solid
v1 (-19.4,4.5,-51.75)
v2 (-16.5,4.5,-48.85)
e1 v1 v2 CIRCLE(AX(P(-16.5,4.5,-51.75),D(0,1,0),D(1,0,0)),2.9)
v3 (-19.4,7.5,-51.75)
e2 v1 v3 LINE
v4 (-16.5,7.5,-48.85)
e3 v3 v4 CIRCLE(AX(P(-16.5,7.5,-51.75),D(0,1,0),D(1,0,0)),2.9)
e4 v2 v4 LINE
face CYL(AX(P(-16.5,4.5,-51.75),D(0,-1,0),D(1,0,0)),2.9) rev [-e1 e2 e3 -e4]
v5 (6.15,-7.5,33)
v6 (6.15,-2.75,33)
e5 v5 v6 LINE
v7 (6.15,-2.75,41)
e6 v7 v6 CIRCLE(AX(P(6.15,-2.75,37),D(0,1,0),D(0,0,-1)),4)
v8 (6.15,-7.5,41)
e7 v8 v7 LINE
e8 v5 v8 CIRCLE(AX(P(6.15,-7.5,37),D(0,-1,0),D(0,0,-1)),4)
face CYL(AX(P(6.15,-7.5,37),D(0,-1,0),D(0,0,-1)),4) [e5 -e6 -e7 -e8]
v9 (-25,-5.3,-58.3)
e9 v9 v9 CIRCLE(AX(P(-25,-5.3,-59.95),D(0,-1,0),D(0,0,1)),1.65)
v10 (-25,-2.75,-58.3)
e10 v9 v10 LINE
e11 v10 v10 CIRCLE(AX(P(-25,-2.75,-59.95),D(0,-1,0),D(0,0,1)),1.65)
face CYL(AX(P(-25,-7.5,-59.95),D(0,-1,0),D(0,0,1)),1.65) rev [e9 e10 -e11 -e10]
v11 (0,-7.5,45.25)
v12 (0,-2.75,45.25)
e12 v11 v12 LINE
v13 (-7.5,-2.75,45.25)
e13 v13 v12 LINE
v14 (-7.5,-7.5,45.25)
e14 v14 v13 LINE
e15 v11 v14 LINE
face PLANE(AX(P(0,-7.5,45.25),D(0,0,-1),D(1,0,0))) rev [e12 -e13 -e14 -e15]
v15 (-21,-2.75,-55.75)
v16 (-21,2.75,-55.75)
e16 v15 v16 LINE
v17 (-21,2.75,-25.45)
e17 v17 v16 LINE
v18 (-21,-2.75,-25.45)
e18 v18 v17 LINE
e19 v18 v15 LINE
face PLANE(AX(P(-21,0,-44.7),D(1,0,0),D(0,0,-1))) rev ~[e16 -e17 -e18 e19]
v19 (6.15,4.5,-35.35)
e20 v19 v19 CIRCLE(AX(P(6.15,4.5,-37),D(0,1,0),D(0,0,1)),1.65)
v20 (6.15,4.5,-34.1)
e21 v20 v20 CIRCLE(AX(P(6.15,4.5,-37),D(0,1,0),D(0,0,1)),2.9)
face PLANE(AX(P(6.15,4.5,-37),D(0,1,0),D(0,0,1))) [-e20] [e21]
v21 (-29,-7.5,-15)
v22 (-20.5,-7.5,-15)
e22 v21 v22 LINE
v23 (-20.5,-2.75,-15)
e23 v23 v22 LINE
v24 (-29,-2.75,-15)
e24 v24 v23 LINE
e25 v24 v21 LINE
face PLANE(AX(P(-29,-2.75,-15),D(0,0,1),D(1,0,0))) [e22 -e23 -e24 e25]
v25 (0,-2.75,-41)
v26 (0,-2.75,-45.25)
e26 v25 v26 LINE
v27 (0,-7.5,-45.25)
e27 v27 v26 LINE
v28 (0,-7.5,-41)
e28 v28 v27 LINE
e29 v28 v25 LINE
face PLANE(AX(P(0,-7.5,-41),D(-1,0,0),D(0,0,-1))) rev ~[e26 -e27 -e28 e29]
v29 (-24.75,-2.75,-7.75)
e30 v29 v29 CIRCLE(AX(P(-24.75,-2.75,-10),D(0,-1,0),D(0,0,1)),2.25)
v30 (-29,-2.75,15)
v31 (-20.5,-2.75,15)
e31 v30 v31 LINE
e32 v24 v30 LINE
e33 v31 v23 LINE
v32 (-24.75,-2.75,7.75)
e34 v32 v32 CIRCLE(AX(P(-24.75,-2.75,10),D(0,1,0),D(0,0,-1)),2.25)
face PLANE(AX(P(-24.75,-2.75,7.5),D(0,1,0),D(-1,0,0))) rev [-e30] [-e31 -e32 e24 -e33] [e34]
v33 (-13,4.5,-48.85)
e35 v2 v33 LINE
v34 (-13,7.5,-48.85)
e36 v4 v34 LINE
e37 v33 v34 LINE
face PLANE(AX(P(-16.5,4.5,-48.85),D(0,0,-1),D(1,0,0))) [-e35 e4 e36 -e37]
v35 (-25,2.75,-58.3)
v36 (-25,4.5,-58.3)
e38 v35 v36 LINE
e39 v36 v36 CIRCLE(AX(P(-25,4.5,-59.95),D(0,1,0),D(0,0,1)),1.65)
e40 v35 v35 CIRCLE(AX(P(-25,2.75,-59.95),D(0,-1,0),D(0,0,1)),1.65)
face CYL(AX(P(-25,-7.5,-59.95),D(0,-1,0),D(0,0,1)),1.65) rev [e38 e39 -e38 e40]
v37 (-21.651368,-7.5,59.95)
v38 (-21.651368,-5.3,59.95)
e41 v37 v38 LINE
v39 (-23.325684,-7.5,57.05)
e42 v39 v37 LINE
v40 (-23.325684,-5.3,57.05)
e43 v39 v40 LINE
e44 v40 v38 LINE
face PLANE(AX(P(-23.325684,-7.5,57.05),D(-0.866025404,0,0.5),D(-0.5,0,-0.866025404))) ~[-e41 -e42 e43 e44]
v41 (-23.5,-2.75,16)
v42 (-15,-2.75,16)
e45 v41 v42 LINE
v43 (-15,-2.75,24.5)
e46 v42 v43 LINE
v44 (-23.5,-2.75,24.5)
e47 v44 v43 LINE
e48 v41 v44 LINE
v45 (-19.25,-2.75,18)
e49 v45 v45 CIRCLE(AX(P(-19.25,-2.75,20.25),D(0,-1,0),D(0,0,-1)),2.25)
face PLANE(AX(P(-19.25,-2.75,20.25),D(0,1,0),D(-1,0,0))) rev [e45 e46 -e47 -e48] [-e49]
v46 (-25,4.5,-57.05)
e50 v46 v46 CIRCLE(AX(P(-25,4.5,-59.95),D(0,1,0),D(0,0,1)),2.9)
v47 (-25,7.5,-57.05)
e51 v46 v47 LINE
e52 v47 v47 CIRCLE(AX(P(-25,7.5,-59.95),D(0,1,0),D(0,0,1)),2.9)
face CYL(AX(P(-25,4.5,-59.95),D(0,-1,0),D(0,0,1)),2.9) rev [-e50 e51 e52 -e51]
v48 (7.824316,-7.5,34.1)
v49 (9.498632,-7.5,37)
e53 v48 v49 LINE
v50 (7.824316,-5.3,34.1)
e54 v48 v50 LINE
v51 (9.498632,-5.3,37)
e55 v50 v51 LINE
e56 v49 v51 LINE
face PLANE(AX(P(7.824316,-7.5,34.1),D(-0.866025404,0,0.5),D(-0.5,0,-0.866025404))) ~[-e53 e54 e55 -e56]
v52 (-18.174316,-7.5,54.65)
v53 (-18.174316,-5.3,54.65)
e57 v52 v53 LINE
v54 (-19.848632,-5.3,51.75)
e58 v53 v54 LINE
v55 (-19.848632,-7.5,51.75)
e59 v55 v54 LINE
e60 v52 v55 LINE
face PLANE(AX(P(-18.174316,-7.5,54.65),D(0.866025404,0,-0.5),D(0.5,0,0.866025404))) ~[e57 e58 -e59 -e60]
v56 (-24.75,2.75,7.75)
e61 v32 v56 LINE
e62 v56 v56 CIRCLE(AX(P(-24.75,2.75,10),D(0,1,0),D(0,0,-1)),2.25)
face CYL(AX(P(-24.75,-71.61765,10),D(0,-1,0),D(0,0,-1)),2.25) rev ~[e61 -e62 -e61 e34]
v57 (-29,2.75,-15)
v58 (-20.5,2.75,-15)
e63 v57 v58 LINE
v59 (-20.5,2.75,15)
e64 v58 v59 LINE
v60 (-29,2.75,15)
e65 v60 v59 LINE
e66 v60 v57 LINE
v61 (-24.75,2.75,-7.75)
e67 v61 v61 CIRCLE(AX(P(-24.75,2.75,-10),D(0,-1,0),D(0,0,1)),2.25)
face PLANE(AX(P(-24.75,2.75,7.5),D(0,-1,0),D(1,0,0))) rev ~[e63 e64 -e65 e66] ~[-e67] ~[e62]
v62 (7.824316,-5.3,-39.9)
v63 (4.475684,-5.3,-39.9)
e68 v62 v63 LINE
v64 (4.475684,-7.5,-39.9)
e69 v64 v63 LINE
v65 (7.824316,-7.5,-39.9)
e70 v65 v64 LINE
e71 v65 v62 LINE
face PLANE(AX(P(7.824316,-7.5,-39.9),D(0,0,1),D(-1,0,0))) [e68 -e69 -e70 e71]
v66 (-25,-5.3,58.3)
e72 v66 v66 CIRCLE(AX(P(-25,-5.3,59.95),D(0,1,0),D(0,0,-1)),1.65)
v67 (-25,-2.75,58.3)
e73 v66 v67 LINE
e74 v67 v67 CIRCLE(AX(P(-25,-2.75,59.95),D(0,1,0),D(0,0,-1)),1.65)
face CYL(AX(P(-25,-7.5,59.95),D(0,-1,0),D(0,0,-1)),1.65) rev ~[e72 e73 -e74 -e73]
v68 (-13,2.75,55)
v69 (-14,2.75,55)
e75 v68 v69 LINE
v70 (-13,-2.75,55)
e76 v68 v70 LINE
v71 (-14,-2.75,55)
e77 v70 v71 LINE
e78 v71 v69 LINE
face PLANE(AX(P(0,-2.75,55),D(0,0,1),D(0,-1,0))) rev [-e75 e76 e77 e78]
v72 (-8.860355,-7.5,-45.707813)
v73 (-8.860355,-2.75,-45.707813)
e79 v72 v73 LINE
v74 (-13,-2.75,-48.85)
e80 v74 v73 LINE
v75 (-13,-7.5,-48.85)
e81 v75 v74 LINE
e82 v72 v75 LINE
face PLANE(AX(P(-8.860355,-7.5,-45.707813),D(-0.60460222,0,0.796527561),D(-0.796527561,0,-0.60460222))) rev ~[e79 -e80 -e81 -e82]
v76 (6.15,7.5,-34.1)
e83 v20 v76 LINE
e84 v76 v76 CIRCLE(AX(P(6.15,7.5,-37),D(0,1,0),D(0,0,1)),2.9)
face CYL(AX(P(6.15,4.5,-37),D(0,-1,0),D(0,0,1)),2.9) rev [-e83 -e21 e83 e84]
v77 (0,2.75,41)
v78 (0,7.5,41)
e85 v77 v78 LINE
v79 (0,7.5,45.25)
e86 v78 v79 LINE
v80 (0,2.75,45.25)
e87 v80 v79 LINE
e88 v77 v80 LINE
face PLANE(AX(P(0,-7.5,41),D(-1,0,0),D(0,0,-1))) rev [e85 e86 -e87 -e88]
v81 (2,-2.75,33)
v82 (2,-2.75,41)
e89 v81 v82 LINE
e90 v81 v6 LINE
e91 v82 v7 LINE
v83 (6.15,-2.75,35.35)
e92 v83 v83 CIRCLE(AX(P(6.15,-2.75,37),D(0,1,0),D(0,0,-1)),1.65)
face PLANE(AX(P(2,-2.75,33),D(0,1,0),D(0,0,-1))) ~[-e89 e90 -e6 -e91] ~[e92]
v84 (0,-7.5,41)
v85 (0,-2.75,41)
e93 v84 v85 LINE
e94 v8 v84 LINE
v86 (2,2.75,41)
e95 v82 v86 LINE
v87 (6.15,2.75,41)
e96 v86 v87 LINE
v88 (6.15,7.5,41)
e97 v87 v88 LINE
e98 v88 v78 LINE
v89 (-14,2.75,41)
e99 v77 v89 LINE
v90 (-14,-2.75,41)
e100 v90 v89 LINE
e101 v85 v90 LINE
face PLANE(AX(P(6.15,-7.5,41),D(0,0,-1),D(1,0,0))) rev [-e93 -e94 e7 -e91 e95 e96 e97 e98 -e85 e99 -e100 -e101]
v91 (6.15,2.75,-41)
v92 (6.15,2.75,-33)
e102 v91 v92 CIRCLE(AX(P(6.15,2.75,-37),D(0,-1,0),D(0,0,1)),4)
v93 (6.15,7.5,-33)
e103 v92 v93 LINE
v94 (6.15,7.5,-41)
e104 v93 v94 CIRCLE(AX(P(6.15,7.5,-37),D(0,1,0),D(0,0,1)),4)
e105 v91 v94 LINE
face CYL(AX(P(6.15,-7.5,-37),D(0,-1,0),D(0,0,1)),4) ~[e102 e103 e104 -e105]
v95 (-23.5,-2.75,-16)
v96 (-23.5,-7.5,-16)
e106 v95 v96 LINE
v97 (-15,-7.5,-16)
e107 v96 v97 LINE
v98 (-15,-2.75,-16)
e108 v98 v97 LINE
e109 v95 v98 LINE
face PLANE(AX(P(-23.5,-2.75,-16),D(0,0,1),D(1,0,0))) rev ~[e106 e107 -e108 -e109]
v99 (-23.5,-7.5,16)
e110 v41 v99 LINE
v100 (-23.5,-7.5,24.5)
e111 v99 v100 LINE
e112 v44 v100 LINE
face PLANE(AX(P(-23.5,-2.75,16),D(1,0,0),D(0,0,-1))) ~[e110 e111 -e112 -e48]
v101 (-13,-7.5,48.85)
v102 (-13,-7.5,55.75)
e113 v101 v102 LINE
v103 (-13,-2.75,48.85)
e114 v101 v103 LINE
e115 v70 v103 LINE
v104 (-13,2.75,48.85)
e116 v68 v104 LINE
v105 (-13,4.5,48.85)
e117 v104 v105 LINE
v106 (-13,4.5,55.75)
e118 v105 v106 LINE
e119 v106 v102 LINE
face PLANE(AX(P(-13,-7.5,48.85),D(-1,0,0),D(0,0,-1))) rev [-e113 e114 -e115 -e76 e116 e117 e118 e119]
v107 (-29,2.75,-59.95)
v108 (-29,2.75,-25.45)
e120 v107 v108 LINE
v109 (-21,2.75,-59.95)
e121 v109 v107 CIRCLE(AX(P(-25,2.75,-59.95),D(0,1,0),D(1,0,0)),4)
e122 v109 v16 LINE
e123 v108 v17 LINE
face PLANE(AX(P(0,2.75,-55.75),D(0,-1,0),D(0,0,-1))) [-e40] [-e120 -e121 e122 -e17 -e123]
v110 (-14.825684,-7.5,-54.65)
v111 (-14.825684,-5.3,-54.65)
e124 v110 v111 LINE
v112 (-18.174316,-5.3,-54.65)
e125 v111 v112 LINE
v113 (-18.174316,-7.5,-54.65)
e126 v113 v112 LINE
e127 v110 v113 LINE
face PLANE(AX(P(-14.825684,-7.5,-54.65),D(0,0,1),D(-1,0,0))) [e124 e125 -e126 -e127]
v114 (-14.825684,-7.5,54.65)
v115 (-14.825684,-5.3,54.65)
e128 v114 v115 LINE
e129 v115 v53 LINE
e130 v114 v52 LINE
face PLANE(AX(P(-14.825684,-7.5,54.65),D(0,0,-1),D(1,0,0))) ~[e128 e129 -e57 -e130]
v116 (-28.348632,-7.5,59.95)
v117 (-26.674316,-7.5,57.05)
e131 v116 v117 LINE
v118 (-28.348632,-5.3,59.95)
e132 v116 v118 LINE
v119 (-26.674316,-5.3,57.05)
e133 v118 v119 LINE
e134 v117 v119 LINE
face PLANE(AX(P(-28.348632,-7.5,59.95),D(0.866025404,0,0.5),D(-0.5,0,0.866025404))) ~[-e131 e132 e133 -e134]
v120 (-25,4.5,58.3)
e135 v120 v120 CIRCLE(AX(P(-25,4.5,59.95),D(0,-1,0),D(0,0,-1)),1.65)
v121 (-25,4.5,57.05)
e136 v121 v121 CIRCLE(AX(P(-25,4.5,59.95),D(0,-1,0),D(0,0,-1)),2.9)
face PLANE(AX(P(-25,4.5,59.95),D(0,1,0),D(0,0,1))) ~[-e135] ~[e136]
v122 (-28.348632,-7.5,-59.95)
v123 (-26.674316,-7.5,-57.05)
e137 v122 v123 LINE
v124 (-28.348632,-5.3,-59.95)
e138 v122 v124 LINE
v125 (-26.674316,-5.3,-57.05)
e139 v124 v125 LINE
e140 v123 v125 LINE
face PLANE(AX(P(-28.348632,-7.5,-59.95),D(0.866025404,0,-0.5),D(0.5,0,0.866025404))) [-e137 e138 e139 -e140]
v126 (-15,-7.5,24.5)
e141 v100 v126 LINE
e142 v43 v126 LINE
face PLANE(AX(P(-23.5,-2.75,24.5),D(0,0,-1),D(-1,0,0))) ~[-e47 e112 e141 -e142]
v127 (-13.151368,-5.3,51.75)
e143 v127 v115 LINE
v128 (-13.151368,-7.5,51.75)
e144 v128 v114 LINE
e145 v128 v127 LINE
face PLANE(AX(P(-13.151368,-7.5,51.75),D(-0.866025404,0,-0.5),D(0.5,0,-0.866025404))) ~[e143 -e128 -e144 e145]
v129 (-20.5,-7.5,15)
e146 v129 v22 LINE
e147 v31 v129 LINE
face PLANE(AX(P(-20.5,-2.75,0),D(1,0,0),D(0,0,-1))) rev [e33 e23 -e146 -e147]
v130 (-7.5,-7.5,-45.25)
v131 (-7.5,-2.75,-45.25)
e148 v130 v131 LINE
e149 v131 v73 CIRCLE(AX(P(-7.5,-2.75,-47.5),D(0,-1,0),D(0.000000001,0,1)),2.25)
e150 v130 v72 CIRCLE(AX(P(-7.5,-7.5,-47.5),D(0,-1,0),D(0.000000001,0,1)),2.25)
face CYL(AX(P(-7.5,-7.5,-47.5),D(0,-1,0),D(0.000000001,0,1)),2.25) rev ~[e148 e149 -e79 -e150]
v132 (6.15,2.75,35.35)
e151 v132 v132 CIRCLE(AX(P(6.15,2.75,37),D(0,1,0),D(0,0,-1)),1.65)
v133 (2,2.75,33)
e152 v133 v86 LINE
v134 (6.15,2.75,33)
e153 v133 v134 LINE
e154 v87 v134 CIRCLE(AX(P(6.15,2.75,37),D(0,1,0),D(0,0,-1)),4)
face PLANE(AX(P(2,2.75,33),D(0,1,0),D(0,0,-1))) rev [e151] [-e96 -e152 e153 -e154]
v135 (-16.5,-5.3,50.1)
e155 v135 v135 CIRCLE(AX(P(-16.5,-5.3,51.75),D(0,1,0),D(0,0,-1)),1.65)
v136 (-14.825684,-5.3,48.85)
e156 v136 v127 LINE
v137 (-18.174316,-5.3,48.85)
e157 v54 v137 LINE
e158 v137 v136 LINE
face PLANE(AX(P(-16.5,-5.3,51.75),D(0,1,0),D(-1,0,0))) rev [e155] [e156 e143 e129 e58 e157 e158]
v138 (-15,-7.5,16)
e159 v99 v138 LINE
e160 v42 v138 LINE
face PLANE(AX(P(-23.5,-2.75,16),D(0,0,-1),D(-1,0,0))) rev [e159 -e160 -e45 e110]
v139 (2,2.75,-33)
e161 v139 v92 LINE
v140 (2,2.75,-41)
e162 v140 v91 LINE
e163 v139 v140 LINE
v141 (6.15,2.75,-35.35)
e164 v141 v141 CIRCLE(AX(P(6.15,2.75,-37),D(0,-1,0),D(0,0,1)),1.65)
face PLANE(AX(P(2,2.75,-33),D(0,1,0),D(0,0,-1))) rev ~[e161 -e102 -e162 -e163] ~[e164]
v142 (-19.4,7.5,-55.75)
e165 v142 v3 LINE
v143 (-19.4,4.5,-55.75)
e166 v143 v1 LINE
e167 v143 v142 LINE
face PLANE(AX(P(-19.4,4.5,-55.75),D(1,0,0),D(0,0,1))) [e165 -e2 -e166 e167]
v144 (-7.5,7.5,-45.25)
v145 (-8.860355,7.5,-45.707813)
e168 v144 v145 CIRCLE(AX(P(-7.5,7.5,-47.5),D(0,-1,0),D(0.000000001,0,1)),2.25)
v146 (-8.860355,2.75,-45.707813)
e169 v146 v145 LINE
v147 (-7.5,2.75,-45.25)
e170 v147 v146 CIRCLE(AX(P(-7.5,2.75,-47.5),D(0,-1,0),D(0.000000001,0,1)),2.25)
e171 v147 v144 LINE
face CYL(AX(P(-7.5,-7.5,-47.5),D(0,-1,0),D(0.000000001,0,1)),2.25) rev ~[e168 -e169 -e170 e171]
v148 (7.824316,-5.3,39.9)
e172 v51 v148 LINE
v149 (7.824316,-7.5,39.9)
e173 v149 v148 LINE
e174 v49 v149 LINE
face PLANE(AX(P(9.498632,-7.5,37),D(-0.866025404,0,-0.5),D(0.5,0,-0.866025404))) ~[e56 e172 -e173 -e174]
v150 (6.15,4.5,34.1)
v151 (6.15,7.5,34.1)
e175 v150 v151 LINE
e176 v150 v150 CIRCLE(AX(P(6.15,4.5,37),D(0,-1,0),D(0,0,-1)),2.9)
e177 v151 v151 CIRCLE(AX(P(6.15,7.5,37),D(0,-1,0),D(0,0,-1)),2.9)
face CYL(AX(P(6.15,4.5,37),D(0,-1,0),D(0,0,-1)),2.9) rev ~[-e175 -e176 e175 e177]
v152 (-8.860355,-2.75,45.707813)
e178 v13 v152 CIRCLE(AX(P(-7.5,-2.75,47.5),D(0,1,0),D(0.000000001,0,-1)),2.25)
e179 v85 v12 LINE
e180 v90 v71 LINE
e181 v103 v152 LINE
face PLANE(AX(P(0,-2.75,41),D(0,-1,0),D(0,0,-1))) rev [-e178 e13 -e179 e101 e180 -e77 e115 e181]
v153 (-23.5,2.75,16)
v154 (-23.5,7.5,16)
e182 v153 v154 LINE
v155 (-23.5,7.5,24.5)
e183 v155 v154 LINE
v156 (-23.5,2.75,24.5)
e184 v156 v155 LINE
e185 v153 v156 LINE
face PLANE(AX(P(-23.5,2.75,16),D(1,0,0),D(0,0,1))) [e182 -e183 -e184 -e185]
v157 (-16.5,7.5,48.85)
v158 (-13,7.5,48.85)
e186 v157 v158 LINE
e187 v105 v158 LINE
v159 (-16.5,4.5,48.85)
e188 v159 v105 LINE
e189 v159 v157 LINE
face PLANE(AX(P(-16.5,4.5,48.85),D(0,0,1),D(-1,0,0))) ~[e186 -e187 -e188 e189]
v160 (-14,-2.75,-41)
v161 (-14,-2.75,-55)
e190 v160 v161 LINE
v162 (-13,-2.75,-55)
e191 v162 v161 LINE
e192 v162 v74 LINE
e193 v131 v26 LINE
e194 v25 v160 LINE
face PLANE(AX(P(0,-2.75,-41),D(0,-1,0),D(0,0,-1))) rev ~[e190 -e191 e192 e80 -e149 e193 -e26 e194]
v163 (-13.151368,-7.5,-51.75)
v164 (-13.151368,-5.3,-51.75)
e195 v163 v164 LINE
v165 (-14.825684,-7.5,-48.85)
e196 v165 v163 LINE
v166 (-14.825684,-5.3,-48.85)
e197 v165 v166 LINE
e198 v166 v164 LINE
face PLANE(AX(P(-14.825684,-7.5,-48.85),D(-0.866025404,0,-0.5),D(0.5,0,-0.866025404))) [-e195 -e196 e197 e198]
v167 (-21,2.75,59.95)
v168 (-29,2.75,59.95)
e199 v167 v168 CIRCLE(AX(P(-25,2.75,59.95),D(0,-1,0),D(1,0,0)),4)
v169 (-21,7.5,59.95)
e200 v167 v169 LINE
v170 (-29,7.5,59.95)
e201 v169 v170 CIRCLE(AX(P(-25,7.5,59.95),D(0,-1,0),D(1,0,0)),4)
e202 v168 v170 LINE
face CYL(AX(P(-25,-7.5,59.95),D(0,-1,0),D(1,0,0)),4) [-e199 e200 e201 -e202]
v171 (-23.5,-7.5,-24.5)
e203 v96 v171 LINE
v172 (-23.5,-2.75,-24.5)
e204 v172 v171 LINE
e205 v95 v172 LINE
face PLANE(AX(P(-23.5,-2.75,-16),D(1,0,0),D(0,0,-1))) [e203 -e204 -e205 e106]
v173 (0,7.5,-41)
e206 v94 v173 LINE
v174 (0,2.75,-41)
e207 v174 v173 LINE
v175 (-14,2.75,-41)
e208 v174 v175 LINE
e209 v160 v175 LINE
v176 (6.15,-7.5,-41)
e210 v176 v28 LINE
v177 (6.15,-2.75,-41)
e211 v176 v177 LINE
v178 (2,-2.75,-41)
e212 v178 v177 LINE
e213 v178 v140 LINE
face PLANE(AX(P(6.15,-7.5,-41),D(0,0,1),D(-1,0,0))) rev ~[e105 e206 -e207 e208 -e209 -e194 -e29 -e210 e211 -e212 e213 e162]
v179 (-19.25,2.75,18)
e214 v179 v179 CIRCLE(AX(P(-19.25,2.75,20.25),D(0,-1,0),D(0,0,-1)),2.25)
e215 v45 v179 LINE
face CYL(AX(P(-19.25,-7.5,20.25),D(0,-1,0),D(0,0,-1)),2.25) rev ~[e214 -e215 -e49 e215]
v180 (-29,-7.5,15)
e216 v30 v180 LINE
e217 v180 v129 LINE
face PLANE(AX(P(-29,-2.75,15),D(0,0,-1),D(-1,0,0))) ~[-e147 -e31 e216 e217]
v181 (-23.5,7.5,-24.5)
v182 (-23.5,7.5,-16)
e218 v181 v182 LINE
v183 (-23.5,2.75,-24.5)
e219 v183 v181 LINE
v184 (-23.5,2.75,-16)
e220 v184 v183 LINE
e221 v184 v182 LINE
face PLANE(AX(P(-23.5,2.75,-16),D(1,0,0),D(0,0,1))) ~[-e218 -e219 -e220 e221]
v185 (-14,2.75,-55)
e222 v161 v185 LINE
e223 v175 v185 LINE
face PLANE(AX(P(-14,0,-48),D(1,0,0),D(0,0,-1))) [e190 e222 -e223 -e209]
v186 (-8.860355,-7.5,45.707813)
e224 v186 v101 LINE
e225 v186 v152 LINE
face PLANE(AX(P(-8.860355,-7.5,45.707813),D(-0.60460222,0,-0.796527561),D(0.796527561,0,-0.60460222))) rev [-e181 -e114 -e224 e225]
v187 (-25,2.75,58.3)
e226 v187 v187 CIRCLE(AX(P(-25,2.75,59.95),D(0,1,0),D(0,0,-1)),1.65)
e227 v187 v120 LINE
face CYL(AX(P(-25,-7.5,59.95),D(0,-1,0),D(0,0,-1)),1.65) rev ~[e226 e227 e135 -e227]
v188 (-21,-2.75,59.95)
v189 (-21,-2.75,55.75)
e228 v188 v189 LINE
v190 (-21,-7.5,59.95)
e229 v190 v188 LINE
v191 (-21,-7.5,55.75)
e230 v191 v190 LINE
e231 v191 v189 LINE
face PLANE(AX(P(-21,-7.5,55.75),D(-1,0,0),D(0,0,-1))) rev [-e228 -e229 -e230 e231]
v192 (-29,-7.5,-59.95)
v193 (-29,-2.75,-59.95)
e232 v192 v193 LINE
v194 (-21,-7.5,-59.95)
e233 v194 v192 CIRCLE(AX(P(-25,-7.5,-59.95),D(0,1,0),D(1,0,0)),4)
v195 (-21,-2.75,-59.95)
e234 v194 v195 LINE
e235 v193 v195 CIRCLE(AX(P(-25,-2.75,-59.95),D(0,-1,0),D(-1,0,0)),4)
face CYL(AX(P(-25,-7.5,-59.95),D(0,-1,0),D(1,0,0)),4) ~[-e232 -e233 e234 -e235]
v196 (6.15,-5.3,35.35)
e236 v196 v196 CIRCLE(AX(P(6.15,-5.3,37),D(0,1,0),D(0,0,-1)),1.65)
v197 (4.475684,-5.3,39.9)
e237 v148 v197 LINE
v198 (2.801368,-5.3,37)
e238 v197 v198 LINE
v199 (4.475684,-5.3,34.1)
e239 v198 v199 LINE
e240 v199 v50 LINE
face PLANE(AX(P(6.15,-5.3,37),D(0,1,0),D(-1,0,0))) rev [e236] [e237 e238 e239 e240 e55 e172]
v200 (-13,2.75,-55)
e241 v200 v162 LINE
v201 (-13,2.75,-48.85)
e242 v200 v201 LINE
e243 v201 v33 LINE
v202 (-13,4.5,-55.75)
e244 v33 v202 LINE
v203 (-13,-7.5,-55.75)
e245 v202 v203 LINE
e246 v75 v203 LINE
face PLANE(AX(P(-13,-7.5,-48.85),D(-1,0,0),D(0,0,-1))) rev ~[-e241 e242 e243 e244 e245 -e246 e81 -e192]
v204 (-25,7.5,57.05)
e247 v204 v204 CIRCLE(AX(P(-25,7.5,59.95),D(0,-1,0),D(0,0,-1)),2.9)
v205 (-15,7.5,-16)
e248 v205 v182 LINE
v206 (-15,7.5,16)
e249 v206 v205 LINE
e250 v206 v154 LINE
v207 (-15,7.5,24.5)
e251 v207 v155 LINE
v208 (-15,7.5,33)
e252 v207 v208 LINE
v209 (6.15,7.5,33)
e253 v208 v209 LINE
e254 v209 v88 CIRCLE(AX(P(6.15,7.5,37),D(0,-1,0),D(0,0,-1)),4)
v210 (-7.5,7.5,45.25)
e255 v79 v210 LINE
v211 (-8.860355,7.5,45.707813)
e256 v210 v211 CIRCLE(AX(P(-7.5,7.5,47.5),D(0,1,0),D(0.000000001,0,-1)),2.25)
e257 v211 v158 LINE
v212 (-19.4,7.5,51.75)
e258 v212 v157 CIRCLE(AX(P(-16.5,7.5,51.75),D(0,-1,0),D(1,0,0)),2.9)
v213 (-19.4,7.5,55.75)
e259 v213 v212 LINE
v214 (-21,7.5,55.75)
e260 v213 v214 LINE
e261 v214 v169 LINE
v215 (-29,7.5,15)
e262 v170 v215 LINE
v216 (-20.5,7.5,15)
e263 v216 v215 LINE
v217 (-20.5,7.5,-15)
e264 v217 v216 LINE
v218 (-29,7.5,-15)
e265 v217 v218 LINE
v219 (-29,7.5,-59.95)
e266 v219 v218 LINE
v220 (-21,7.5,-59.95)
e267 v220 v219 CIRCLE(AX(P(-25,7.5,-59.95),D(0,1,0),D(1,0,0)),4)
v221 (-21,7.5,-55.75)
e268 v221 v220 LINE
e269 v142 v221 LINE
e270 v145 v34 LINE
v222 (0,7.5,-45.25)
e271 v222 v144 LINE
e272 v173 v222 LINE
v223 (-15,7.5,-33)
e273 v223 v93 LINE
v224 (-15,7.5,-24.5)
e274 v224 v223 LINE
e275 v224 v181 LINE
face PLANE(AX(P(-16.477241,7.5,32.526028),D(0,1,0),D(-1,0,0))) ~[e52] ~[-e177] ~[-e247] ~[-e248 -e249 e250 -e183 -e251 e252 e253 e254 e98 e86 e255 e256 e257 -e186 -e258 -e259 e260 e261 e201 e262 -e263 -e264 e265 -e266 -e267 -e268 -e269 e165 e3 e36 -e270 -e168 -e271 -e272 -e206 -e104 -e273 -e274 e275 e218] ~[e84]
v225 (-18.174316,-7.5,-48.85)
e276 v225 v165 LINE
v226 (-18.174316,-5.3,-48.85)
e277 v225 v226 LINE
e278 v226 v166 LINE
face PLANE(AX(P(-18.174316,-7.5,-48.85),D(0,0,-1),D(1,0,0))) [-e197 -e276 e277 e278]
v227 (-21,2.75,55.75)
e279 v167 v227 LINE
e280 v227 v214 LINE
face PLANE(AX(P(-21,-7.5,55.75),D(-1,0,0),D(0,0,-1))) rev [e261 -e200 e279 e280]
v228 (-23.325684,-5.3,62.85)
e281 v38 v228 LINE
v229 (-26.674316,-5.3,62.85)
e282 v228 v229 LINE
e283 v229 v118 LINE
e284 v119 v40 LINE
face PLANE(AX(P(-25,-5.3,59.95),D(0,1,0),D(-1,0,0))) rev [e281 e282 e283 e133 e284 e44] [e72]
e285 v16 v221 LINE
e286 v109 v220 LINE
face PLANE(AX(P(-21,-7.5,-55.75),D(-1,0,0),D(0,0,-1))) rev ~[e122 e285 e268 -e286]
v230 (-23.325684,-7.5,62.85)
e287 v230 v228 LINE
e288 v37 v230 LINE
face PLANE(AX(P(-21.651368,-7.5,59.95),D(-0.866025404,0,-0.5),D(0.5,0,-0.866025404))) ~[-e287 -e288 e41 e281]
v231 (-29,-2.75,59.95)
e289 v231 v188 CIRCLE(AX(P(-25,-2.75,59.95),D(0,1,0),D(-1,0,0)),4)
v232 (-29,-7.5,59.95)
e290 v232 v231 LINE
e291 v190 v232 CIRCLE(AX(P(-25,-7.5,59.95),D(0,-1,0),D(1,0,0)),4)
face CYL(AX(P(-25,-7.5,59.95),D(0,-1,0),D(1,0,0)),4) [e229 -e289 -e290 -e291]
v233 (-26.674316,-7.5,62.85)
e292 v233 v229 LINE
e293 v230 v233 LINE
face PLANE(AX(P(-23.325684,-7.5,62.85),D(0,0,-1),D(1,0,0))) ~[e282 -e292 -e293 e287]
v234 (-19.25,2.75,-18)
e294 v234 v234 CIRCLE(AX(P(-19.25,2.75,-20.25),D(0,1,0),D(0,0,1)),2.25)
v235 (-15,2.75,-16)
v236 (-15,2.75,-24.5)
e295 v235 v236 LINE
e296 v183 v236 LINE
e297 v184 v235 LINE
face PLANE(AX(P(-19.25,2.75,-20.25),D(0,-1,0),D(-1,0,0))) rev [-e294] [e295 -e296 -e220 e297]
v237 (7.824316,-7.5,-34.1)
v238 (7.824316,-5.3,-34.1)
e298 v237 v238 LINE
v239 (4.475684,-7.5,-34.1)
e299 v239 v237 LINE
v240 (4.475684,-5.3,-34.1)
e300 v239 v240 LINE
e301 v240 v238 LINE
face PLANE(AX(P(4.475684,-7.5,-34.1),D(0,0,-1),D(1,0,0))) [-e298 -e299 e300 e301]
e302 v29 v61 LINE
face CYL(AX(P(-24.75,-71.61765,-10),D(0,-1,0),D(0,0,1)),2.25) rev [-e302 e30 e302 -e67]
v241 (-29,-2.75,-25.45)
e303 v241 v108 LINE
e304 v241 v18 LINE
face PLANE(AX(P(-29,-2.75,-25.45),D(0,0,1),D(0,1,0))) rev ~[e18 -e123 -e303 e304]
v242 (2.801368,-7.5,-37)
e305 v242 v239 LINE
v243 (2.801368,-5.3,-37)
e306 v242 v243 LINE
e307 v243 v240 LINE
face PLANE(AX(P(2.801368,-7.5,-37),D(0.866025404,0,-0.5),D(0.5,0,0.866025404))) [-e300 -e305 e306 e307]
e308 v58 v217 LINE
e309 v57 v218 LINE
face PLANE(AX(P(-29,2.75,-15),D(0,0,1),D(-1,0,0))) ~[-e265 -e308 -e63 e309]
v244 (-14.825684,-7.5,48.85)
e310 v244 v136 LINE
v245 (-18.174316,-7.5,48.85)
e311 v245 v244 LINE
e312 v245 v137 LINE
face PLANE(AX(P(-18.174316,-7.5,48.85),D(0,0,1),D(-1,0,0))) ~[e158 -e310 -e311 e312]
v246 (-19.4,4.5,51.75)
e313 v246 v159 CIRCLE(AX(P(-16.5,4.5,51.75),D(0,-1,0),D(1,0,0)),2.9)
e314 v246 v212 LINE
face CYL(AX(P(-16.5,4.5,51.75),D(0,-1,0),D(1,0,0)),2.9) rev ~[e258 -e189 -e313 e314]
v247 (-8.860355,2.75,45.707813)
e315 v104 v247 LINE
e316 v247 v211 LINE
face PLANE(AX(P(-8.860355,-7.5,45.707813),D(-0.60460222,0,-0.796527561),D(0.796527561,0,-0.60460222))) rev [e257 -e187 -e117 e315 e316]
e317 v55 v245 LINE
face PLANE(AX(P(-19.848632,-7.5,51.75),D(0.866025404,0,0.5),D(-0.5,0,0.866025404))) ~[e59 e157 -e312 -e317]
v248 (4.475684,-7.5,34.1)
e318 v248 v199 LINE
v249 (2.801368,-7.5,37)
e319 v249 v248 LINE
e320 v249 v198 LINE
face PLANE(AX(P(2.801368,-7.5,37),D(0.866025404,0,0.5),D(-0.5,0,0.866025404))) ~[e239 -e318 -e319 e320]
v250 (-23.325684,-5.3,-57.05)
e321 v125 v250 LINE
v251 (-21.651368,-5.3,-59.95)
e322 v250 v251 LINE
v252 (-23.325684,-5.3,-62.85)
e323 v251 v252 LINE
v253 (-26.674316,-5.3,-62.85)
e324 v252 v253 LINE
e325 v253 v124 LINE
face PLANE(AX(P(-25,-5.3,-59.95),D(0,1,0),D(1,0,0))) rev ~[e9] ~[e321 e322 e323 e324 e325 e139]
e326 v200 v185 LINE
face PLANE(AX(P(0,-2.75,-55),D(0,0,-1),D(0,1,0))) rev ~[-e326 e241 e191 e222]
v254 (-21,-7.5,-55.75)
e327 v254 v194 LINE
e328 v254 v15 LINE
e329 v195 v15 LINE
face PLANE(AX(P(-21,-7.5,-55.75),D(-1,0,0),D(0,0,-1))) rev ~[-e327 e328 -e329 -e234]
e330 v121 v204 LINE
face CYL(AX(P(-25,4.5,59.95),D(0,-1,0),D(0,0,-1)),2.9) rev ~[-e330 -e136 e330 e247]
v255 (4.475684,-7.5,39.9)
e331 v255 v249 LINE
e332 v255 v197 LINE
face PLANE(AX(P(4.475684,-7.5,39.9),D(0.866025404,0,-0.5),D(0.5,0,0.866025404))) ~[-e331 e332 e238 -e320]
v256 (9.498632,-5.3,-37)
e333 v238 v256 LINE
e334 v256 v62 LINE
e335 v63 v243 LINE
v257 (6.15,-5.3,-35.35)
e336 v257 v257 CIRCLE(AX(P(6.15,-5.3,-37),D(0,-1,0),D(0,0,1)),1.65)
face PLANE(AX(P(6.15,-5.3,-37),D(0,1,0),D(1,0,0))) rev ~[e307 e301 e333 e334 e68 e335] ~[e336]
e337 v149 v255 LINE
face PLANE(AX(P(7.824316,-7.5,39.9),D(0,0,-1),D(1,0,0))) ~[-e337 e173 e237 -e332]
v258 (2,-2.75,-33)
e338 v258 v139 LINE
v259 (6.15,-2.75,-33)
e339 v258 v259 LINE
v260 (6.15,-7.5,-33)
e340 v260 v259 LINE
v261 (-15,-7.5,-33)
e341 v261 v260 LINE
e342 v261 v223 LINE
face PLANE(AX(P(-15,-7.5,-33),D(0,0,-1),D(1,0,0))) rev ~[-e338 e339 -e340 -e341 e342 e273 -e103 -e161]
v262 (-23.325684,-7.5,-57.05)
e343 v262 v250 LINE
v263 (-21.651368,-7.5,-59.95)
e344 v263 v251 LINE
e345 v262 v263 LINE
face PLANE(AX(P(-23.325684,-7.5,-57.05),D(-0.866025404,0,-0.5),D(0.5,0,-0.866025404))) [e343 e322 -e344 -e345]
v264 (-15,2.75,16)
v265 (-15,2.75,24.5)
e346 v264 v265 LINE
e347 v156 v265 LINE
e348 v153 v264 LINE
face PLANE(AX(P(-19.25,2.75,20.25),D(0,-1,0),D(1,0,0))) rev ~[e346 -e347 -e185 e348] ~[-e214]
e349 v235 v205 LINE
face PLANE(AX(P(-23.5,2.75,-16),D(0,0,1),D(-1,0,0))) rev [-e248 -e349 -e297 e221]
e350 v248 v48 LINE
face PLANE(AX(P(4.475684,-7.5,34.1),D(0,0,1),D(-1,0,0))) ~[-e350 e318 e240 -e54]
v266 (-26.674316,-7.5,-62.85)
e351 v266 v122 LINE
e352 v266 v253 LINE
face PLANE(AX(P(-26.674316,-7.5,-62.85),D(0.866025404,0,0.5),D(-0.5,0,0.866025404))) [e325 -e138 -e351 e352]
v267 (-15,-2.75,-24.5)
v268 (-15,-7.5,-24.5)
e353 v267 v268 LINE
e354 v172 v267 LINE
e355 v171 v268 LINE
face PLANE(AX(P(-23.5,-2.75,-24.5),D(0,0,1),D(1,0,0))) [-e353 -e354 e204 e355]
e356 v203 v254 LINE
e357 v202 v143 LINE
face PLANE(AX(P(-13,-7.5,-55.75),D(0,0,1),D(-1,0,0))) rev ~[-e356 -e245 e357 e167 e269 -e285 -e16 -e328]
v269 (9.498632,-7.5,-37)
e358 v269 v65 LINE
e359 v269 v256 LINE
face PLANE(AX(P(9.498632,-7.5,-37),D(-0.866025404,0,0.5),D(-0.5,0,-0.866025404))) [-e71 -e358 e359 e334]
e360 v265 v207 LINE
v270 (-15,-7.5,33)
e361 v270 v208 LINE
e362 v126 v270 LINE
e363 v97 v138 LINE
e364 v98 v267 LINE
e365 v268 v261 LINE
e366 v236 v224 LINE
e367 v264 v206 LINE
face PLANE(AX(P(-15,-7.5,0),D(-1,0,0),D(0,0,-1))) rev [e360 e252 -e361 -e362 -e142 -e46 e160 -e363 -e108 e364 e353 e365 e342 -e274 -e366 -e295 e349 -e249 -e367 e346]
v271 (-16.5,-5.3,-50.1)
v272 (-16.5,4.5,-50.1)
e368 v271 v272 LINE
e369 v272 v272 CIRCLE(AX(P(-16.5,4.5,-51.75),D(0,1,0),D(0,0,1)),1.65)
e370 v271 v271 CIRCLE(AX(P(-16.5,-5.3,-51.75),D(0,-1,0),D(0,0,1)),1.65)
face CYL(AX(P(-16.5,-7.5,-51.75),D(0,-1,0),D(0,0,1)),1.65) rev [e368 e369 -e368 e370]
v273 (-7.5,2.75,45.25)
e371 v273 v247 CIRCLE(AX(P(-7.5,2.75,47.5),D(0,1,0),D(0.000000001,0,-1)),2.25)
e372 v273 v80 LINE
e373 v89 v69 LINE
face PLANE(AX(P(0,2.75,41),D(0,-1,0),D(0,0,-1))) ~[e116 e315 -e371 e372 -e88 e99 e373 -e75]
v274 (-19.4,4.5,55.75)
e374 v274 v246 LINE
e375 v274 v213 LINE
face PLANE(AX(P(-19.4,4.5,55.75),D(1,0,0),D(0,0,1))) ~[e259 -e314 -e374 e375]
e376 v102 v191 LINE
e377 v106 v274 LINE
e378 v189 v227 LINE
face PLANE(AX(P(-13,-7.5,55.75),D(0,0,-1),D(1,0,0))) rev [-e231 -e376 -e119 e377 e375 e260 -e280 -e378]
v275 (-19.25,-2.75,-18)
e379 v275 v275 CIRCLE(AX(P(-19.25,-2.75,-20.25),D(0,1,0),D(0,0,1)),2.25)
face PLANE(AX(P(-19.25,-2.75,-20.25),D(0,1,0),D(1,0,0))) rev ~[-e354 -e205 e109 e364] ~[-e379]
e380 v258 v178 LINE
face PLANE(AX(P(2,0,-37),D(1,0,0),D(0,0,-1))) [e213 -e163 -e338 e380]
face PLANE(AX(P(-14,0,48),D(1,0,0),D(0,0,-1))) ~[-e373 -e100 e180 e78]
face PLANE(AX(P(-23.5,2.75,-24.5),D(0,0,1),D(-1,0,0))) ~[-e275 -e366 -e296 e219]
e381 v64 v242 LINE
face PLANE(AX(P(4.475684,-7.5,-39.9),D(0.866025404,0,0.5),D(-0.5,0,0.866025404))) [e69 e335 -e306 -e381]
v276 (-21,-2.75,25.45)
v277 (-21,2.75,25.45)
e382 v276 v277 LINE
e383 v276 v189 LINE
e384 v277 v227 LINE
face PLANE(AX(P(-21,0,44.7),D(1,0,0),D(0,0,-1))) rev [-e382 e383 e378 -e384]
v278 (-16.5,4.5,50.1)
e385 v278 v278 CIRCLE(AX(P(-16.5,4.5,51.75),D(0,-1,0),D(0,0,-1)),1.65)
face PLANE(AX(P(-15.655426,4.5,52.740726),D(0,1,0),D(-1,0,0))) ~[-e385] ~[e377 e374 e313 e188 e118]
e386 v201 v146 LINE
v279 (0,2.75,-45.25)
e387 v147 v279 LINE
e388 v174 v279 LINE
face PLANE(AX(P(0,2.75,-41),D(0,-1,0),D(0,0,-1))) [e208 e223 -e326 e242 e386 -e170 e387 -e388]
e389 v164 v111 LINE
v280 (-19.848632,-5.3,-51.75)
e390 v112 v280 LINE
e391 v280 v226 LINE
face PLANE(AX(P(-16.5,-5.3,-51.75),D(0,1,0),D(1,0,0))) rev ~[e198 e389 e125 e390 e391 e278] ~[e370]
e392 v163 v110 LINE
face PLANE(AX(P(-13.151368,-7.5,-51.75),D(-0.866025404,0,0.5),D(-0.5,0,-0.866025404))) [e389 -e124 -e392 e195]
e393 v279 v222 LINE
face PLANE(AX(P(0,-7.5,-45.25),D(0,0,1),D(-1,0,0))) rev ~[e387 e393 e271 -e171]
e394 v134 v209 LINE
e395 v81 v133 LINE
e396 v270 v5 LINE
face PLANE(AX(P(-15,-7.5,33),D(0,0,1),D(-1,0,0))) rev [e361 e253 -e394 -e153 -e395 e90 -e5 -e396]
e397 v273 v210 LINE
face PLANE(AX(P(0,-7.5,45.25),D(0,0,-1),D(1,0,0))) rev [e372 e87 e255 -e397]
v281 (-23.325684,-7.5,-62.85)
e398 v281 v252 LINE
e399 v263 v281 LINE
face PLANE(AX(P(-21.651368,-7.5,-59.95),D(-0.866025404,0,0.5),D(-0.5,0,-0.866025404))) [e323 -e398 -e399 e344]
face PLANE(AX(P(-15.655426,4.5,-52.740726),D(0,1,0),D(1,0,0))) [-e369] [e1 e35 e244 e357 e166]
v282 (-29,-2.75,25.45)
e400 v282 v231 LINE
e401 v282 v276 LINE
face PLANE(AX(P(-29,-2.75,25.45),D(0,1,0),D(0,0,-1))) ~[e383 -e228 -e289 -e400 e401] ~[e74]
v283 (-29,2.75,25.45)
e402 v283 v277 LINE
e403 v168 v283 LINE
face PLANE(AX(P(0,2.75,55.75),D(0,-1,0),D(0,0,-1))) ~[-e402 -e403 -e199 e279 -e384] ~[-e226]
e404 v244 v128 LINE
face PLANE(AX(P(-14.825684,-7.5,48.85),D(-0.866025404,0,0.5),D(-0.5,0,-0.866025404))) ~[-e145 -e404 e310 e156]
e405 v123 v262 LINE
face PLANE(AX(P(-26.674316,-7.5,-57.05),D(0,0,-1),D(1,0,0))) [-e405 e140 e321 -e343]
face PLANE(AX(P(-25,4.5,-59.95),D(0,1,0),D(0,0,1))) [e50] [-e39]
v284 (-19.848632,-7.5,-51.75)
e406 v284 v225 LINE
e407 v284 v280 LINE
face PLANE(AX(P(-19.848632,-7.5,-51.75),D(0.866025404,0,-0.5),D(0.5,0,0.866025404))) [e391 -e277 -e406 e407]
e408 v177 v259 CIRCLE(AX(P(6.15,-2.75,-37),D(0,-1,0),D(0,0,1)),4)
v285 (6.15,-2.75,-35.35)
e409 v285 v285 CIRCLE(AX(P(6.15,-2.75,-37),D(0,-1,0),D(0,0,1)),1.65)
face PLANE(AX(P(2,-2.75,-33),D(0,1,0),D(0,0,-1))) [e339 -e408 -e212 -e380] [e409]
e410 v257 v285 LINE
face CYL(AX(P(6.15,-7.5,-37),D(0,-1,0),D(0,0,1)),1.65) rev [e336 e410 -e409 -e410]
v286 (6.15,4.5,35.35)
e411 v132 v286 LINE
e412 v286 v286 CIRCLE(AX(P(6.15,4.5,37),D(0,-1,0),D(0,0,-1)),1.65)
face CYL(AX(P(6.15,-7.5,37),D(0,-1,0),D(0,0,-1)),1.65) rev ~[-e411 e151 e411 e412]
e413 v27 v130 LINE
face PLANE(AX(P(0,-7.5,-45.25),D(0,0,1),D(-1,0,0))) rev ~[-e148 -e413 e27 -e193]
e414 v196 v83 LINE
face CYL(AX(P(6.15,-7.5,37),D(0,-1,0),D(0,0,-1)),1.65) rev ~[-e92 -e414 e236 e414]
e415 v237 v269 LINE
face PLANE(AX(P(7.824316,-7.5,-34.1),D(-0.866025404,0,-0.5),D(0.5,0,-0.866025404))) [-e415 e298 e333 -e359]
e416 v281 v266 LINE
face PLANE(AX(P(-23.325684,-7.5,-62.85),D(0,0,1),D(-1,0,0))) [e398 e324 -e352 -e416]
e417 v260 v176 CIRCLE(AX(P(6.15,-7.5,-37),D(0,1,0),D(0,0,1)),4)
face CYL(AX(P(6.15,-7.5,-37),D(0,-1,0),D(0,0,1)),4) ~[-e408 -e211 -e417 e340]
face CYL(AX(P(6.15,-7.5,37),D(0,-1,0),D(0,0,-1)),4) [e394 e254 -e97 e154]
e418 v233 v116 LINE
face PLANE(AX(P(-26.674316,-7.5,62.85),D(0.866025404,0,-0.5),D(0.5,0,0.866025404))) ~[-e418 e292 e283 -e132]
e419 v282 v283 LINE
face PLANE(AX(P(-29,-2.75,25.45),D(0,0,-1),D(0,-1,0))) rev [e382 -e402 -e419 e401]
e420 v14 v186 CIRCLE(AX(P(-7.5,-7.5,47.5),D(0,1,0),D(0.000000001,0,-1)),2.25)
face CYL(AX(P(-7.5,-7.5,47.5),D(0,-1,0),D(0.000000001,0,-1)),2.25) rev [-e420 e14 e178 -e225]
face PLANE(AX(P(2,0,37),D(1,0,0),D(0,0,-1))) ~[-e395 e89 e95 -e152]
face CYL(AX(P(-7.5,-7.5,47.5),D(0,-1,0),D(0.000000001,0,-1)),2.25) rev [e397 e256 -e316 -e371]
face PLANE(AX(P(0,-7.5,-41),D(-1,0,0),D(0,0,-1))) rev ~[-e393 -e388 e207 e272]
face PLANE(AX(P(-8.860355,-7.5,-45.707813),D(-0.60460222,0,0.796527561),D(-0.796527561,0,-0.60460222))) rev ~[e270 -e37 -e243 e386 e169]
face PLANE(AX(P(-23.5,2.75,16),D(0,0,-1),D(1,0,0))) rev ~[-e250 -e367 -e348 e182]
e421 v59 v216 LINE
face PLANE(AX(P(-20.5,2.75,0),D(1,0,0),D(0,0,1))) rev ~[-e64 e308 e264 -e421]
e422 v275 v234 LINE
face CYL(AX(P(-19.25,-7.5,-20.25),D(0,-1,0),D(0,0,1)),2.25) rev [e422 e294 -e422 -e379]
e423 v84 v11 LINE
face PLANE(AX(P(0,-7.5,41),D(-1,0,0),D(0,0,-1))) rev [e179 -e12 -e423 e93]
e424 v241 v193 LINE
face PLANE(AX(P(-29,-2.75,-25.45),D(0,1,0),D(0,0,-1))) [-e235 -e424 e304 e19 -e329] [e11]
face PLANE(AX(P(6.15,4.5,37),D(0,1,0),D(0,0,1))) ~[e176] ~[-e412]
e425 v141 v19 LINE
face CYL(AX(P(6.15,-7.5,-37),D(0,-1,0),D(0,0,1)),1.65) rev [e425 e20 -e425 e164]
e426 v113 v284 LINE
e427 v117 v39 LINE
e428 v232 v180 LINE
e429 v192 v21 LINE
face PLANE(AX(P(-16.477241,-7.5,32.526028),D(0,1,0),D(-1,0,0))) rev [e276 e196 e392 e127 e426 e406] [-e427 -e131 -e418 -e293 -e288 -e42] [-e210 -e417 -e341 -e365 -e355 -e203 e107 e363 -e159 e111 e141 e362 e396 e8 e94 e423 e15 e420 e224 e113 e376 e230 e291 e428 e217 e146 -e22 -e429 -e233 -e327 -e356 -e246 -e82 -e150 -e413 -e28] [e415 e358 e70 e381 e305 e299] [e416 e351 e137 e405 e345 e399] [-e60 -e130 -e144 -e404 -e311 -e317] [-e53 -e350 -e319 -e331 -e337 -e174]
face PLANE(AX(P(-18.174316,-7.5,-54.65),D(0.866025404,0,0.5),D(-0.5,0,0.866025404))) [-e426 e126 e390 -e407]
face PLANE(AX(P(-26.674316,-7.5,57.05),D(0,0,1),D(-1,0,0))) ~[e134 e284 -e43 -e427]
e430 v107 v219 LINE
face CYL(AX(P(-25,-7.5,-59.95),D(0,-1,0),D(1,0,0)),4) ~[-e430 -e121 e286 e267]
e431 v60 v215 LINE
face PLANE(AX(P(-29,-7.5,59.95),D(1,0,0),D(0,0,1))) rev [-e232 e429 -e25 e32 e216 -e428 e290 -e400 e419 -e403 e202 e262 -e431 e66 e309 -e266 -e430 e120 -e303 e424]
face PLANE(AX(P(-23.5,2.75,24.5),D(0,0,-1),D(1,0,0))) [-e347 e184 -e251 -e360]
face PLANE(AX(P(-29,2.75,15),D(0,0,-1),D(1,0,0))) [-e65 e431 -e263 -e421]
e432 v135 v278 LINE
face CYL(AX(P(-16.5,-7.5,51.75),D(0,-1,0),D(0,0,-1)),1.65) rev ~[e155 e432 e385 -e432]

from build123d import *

# Parameters (mm, degrees)
BOSS_EXTRUDE1_DEPTH      = 7.5
BOSS_EXTRUDE1_DEPTH_BACK = 7.5
SKETCH1_R                = 2.25
SKETCH1_R_2              = 1.65
SKETCH2_W                = 8.2
SKETCH2_H                = 5.5
CUT_EXTRUDE1_DEPTH       = 71.61765006
SKETCH2_5_W              = 14
SKETCH2_5_H              = 5.5
CUT_EXTRUDE7_DEPTH       = 14
CUT_EXTRUDE8_START       = -29
SKETCH5_W                = 38.5
SKETCH5_H                = 5.5
CUT_EXTRUDE8_DEPTH       = 8
CUT_EXTRUDE4_START       = 2
SKETCH4_W                = 8
SKETCH4_H                = 5.5
CUT_EXTRUDE4_DEPTH       = 69.61765006
CUT_EXTRUDE5_START       = -2.75
SKETCH1_3_W              = 8.5
SKETCH1_3_H              = 15
SKETCH1_3_R              = 2.25
SKETCH1_3_H_2            = 8.5
CUT_EXTRUDE5_DEPTH       = 68.86765006
CUT_EXTRUDE6_DEPTH       = 71.61765006
CUT_EXTRUDE6_DEPTH_BACK  = 71.61765006
SKETCH1_4_R              = 2.25
CUT_EXTRUDE9_START       = 4.5
SKETCH1_5_R              = 2.9
SKETCH1_5_R_2            = 1.65
CUT_EXTRUDE9_DEPTH       = 3
CUT_EXTRUDE10_START      = -7.5
CUT_EXTRUDE10_DEPTH      = 2.2


with BuildPart() as part:
    # Sketch1 → Boss-Extrude1 (new, two sides: drawn at the far end of the back side and taken through both)
    with BuildSketch(Plane(origin=(0, 0, 0), x_dir=(1, 0, 0), z_dir=(0, 1, 0)).offset(-BOSS_EXTRUDE1_DEPTH_BACK)):
        with BuildLine():
            Line((-15, 33), (6.15, 33))
            ThreePointArc((6.15, 33), (10.15, 37), (6.15, 41))
            Line((6.15, 41), (0, 41))
            Line((0, 41), (0, 45.25))
            Line((0, 45.25), (-7.5, 45.25))
            ThreePointArc((-7.5, 45.25), (-8.217662602, 45.367522476), (-8.860354994, 45.707812987))
            Line((-8.860354994, 45.707812987), (-13, 48.85))
            Line((-13, 48.85), (-13, 55.75))
            Line((-13, 55.75), (-21, 55.75))
            Line((-21, 55.75), (-21, 59.95))
            ThreePointArc((-21, 59.95), (-25, 63.95), (-29, 59.95))
            Line((-29, 59.95), (-29, 0))
            Line((-29, 0), (-15, 0))
            Line((-15, 0), (-15, 33))
        make_face()
        with Locations(Location((-19.25, 20.25, 0), (0, 0, 270))):
            Circle(SKETCH1_R, mode=Mode.SUBTRACT)
        with Locations(Location((-16.5, 51.75, 0), (0, 0, 270))):
            Circle(SKETCH1_R_2, mode=Mode.SUBTRACT)
        with Locations(Location((-25, 59.95, 0), (0, 0, 270))):
            Circle(SKETCH1_R_2, mode=Mode.SUBTRACT)
        with Locations(Location((6.15, 37, 0), (0, 0, 270))):
            Circle(SKETCH1_R_2, mode=Mode.SUBTRACT)
    extrude(amount=BOSS_EXTRUDE1_DEPTH + BOSS_EXTRUDE1_DEPTH_BACK)

    # Sketch2 → Cut-Extrude1 (cut, through all)
    with BuildSketch(Plane(origin=(0, 0, 0), x_dir=(0, 0, -1), z_dir=(1, 0, 0))):
        with Locations((59.85, 0)):
            Rectangle(SKETCH2_W, SKETCH2_H)
    extrude(amount=-CUT_EXTRUDE1_DEPTH, mode=Mode.SUBTRACT)

    # Sketch2<5> → Cut-Extrude7 (cut)
    with BuildSketch(Plane(origin=(0, 0, 0), x_dir=(0, 0, -1), z_dir=(1, 0, 0))):
        with Locations((48, 0)):
            Rectangle(SKETCH2_5_W, SKETCH2_5_H)
    extrude(amount=-CUT_EXTRUDE7_DEPTH, mode=Mode.SUBTRACT)

    # Sketch5 → Cut-Extrude8 (cut)
    with BuildSketch(Plane(origin=(0, 0, 0), x_dir=(0, 0, -1), z_dir=(1, 0, 0)).offset(CUT_EXTRUDE8_START)):
        with Locations((44.7, 0)):
            Rectangle(SKETCH5_W, SKETCH5_H)
    extrude(amount=CUT_EXTRUDE8_DEPTH, mode=Mode.SUBTRACT)

    # Sketch4 → Cut-Extrude4 (cut, through all)
    with BuildSketch(Plane(origin=(0, 0, 0), x_dir=(0, 0, -1), z_dir=(1, 0, 0)).offset(CUT_EXTRUDE4_START)):
        with Locations((37, 0)):
            Rectangle(SKETCH4_W, SKETCH4_H)
    extrude(amount=CUT_EXTRUDE4_DEPTH, mode=Mode.SUBTRACT)

    # Sketch1<3> → Cut-Extrude5 (cut, through all)
    # profile 1 of 3: a face of its own
    with BuildSketch(Plane(origin=(0, 0, 0), x_dir=(1, 0, 0), z_dir=(0, 1, 0)).offset(CUT_EXTRUDE5_START)):
        with Locations((-24.75, 7.5)):
            Rectangle(SKETCH1_3_W, SKETCH1_3_H)
        with Locations((-24.75, 10)):
            Circle(SKETCH1_3_R, mode=Mode.SUBTRACT)
    # profile 2 of 3: a face of its own
    with BuildSketch(Plane(origin=(0, 0, 0), x_dir=(1, 0, 0), z_dir=(0, 1, 0)).offset(CUT_EXTRUDE5_START)):
        with Locations((-24.75, 10)):
            Circle(SKETCH1_3_R)
    # profile 3 of 3: a face of its own
    with BuildSketch(Plane(origin=(0, 0, 0), x_dir=(1, 0, 0), z_dir=(0, 1, 0)).offset(CUT_EXTRUDE5_START)):
        with Locations((-19.25, 20.25)):
            Rectangle(SKETCH1_3_W, SKETCH1_3_H_2)
        with Locations(Location((-19.25, 20.25, 0), (0, 0, 270))):
            Circle(SKETCH1_3_R, mode=Mode.SUBTRACT)
    cut_extrude5 = extrude(amount=-CUT_EXTRUDE5_DEPTH, mode=Mode.SUBTRACT)

    # Mirror2: Cut-Extrude5 across plane
    add(cut_extrude5.mirror(Plane.ZX), mode=Mode.SUBTRACT)

    # Sketch1<4> → Cut-Extrude6 (cut, two sides: drawn at the far end of the back side and taken through both)
    with BuildSketch(Plane(origin=(0, 0, 0), x_dir=(1, 0, 0), z_dir=(0, 1, 0)).offset(-CUT_EXTRUDE6_DEPTH_BACK)):
        with Locations(Location((-24.75, 10, 0), (0, 0, 270))):
            Circle(SKETCH1_4_R)
    extrude(amount=CUT_EXTRUDE6_DEPTH + CUT_EXTRUDE6_DEPTH_BACK, mode=Mode.SUBTRACT)

    # Sketch1<5> → Cut-Extrude9 (cut)
    # profile 1 of 4: a face of its own
    with BuildSketch(Plane(origin=(0, 0, 0), x_dir=(1, 0, 0), z_dir=(0, 1, 0)).offset(CUT_EXTRUDE9_START)):
        with Locations(Location((-25, 59.95, 0), (0, 0, 270))):
            Circle(SKETCH1_5_R)
        with Locations(Location((-25, 59.95, 0), (0, 0, 270))):
            Circle(SKETCH1_5_R_2, mode=Mode.SUBTRACT)
    # profile 2 of 4: a face of its own
    with BuildSketch(Plane(origin=(0, 0, 0), x_dir=(1, 0, 0), z_dir=(0, 1, 0)).offset(CUT_EXTRUDE9_START)):
        with Locations((-16.5, 51.75)):
            Circle(SKETCH1_5_R)
        with Locations(Location((-16.5, 51.75, 0), (0, 0, 270))):
            Circle(SKETCH1_5_R_2, mode=Mode.SUBTRACT)
    # profile 3 of 4: a face of its own
    with BuildSketch(Plane(origin=(0, 0, 0), x_dir=(1, 0, 0), z_dir=(0, 1, 0)).offset(CUT_EXTRUDE9_START)):
        with Locations(Location((6.15, 37, 0), (0, 0, 270))):
            Circle(SKETCH1_5_R)
        with Locations(Location((6.15, 37, 0), (0, 0, 270))):
            Circle(SKETCH1_5_R_2, mode=Mode.SUBTRACT)
    # profile 4 of 4: a face of its own
    with BuildSketch(Plane(origin=(0, 0, 0), x_dir=(1, 0, 0), z_dir=(0, 1, 0)).offset(CUT_EXTRUDE9_START)):
        with BuildLine():
            Line((-16.5, 48.85), (-13, 48.85))
            Line((-13, 48.85), (-13, 52.75))
            Line((-13, 52.75), (-13, 55.75))
            Line((-13, 55.75), (-19.4, 55.75))
            Line((-19.4, 55.75), (-19.4, 51.75))
            ThreePointArc((-19.4, 51.75), (-16.5, 54.65), (-13.6, 51.75))
            ThreePointArc((-13.6, 51.75), (-14.449390335, 49.699390335), (-16.5, 48.85))
        make_face()
    extrude(amount=CUT_EXTRUDE9_DEPTH, mode=Mode.SUBTRACT)

    # Sketch6 → Cut-Extrude10 (cut)
    with BuildSketch(Plane(origin=(0, 0, 0), x_dir=(1, 0, 0), z_dir=(0, 1, 0)).offset(CUT_EXTRUDE10_START)):
        Polygon((-21.651368439, 59.95), (-23.325684219, 62.85), (-26.674315781, 62.85), (-28.348631561, 59.95), (-26.674315781, 57.05), (-23.325684219, 57.05), align=None)
        Polygon((-13.151368439, 51.75), (-14.825684219, 54.65), (-18.174315781, 54.65), (-19.848631561, 51.75), (-18.174315781, 48.85), (-14.825684219, 48.85), align=None)
        Polygon((9.498631561, 37), (7.824315781, 39.9), (4.475684219, 39.9), (2.801368439, 37), (4.475684219, 34.1), (7.824315781, 34.1), align=None)
    extrude(amount=CUT_EXTRUDE10_DEPTH, mode=Mode.SUBTRACT)

    # Mirror3: part across plane


with BuildPart() as part_1:
    add(part.part)
    add(part.part.mirror(Plane.XY))


solid = part_1.part
